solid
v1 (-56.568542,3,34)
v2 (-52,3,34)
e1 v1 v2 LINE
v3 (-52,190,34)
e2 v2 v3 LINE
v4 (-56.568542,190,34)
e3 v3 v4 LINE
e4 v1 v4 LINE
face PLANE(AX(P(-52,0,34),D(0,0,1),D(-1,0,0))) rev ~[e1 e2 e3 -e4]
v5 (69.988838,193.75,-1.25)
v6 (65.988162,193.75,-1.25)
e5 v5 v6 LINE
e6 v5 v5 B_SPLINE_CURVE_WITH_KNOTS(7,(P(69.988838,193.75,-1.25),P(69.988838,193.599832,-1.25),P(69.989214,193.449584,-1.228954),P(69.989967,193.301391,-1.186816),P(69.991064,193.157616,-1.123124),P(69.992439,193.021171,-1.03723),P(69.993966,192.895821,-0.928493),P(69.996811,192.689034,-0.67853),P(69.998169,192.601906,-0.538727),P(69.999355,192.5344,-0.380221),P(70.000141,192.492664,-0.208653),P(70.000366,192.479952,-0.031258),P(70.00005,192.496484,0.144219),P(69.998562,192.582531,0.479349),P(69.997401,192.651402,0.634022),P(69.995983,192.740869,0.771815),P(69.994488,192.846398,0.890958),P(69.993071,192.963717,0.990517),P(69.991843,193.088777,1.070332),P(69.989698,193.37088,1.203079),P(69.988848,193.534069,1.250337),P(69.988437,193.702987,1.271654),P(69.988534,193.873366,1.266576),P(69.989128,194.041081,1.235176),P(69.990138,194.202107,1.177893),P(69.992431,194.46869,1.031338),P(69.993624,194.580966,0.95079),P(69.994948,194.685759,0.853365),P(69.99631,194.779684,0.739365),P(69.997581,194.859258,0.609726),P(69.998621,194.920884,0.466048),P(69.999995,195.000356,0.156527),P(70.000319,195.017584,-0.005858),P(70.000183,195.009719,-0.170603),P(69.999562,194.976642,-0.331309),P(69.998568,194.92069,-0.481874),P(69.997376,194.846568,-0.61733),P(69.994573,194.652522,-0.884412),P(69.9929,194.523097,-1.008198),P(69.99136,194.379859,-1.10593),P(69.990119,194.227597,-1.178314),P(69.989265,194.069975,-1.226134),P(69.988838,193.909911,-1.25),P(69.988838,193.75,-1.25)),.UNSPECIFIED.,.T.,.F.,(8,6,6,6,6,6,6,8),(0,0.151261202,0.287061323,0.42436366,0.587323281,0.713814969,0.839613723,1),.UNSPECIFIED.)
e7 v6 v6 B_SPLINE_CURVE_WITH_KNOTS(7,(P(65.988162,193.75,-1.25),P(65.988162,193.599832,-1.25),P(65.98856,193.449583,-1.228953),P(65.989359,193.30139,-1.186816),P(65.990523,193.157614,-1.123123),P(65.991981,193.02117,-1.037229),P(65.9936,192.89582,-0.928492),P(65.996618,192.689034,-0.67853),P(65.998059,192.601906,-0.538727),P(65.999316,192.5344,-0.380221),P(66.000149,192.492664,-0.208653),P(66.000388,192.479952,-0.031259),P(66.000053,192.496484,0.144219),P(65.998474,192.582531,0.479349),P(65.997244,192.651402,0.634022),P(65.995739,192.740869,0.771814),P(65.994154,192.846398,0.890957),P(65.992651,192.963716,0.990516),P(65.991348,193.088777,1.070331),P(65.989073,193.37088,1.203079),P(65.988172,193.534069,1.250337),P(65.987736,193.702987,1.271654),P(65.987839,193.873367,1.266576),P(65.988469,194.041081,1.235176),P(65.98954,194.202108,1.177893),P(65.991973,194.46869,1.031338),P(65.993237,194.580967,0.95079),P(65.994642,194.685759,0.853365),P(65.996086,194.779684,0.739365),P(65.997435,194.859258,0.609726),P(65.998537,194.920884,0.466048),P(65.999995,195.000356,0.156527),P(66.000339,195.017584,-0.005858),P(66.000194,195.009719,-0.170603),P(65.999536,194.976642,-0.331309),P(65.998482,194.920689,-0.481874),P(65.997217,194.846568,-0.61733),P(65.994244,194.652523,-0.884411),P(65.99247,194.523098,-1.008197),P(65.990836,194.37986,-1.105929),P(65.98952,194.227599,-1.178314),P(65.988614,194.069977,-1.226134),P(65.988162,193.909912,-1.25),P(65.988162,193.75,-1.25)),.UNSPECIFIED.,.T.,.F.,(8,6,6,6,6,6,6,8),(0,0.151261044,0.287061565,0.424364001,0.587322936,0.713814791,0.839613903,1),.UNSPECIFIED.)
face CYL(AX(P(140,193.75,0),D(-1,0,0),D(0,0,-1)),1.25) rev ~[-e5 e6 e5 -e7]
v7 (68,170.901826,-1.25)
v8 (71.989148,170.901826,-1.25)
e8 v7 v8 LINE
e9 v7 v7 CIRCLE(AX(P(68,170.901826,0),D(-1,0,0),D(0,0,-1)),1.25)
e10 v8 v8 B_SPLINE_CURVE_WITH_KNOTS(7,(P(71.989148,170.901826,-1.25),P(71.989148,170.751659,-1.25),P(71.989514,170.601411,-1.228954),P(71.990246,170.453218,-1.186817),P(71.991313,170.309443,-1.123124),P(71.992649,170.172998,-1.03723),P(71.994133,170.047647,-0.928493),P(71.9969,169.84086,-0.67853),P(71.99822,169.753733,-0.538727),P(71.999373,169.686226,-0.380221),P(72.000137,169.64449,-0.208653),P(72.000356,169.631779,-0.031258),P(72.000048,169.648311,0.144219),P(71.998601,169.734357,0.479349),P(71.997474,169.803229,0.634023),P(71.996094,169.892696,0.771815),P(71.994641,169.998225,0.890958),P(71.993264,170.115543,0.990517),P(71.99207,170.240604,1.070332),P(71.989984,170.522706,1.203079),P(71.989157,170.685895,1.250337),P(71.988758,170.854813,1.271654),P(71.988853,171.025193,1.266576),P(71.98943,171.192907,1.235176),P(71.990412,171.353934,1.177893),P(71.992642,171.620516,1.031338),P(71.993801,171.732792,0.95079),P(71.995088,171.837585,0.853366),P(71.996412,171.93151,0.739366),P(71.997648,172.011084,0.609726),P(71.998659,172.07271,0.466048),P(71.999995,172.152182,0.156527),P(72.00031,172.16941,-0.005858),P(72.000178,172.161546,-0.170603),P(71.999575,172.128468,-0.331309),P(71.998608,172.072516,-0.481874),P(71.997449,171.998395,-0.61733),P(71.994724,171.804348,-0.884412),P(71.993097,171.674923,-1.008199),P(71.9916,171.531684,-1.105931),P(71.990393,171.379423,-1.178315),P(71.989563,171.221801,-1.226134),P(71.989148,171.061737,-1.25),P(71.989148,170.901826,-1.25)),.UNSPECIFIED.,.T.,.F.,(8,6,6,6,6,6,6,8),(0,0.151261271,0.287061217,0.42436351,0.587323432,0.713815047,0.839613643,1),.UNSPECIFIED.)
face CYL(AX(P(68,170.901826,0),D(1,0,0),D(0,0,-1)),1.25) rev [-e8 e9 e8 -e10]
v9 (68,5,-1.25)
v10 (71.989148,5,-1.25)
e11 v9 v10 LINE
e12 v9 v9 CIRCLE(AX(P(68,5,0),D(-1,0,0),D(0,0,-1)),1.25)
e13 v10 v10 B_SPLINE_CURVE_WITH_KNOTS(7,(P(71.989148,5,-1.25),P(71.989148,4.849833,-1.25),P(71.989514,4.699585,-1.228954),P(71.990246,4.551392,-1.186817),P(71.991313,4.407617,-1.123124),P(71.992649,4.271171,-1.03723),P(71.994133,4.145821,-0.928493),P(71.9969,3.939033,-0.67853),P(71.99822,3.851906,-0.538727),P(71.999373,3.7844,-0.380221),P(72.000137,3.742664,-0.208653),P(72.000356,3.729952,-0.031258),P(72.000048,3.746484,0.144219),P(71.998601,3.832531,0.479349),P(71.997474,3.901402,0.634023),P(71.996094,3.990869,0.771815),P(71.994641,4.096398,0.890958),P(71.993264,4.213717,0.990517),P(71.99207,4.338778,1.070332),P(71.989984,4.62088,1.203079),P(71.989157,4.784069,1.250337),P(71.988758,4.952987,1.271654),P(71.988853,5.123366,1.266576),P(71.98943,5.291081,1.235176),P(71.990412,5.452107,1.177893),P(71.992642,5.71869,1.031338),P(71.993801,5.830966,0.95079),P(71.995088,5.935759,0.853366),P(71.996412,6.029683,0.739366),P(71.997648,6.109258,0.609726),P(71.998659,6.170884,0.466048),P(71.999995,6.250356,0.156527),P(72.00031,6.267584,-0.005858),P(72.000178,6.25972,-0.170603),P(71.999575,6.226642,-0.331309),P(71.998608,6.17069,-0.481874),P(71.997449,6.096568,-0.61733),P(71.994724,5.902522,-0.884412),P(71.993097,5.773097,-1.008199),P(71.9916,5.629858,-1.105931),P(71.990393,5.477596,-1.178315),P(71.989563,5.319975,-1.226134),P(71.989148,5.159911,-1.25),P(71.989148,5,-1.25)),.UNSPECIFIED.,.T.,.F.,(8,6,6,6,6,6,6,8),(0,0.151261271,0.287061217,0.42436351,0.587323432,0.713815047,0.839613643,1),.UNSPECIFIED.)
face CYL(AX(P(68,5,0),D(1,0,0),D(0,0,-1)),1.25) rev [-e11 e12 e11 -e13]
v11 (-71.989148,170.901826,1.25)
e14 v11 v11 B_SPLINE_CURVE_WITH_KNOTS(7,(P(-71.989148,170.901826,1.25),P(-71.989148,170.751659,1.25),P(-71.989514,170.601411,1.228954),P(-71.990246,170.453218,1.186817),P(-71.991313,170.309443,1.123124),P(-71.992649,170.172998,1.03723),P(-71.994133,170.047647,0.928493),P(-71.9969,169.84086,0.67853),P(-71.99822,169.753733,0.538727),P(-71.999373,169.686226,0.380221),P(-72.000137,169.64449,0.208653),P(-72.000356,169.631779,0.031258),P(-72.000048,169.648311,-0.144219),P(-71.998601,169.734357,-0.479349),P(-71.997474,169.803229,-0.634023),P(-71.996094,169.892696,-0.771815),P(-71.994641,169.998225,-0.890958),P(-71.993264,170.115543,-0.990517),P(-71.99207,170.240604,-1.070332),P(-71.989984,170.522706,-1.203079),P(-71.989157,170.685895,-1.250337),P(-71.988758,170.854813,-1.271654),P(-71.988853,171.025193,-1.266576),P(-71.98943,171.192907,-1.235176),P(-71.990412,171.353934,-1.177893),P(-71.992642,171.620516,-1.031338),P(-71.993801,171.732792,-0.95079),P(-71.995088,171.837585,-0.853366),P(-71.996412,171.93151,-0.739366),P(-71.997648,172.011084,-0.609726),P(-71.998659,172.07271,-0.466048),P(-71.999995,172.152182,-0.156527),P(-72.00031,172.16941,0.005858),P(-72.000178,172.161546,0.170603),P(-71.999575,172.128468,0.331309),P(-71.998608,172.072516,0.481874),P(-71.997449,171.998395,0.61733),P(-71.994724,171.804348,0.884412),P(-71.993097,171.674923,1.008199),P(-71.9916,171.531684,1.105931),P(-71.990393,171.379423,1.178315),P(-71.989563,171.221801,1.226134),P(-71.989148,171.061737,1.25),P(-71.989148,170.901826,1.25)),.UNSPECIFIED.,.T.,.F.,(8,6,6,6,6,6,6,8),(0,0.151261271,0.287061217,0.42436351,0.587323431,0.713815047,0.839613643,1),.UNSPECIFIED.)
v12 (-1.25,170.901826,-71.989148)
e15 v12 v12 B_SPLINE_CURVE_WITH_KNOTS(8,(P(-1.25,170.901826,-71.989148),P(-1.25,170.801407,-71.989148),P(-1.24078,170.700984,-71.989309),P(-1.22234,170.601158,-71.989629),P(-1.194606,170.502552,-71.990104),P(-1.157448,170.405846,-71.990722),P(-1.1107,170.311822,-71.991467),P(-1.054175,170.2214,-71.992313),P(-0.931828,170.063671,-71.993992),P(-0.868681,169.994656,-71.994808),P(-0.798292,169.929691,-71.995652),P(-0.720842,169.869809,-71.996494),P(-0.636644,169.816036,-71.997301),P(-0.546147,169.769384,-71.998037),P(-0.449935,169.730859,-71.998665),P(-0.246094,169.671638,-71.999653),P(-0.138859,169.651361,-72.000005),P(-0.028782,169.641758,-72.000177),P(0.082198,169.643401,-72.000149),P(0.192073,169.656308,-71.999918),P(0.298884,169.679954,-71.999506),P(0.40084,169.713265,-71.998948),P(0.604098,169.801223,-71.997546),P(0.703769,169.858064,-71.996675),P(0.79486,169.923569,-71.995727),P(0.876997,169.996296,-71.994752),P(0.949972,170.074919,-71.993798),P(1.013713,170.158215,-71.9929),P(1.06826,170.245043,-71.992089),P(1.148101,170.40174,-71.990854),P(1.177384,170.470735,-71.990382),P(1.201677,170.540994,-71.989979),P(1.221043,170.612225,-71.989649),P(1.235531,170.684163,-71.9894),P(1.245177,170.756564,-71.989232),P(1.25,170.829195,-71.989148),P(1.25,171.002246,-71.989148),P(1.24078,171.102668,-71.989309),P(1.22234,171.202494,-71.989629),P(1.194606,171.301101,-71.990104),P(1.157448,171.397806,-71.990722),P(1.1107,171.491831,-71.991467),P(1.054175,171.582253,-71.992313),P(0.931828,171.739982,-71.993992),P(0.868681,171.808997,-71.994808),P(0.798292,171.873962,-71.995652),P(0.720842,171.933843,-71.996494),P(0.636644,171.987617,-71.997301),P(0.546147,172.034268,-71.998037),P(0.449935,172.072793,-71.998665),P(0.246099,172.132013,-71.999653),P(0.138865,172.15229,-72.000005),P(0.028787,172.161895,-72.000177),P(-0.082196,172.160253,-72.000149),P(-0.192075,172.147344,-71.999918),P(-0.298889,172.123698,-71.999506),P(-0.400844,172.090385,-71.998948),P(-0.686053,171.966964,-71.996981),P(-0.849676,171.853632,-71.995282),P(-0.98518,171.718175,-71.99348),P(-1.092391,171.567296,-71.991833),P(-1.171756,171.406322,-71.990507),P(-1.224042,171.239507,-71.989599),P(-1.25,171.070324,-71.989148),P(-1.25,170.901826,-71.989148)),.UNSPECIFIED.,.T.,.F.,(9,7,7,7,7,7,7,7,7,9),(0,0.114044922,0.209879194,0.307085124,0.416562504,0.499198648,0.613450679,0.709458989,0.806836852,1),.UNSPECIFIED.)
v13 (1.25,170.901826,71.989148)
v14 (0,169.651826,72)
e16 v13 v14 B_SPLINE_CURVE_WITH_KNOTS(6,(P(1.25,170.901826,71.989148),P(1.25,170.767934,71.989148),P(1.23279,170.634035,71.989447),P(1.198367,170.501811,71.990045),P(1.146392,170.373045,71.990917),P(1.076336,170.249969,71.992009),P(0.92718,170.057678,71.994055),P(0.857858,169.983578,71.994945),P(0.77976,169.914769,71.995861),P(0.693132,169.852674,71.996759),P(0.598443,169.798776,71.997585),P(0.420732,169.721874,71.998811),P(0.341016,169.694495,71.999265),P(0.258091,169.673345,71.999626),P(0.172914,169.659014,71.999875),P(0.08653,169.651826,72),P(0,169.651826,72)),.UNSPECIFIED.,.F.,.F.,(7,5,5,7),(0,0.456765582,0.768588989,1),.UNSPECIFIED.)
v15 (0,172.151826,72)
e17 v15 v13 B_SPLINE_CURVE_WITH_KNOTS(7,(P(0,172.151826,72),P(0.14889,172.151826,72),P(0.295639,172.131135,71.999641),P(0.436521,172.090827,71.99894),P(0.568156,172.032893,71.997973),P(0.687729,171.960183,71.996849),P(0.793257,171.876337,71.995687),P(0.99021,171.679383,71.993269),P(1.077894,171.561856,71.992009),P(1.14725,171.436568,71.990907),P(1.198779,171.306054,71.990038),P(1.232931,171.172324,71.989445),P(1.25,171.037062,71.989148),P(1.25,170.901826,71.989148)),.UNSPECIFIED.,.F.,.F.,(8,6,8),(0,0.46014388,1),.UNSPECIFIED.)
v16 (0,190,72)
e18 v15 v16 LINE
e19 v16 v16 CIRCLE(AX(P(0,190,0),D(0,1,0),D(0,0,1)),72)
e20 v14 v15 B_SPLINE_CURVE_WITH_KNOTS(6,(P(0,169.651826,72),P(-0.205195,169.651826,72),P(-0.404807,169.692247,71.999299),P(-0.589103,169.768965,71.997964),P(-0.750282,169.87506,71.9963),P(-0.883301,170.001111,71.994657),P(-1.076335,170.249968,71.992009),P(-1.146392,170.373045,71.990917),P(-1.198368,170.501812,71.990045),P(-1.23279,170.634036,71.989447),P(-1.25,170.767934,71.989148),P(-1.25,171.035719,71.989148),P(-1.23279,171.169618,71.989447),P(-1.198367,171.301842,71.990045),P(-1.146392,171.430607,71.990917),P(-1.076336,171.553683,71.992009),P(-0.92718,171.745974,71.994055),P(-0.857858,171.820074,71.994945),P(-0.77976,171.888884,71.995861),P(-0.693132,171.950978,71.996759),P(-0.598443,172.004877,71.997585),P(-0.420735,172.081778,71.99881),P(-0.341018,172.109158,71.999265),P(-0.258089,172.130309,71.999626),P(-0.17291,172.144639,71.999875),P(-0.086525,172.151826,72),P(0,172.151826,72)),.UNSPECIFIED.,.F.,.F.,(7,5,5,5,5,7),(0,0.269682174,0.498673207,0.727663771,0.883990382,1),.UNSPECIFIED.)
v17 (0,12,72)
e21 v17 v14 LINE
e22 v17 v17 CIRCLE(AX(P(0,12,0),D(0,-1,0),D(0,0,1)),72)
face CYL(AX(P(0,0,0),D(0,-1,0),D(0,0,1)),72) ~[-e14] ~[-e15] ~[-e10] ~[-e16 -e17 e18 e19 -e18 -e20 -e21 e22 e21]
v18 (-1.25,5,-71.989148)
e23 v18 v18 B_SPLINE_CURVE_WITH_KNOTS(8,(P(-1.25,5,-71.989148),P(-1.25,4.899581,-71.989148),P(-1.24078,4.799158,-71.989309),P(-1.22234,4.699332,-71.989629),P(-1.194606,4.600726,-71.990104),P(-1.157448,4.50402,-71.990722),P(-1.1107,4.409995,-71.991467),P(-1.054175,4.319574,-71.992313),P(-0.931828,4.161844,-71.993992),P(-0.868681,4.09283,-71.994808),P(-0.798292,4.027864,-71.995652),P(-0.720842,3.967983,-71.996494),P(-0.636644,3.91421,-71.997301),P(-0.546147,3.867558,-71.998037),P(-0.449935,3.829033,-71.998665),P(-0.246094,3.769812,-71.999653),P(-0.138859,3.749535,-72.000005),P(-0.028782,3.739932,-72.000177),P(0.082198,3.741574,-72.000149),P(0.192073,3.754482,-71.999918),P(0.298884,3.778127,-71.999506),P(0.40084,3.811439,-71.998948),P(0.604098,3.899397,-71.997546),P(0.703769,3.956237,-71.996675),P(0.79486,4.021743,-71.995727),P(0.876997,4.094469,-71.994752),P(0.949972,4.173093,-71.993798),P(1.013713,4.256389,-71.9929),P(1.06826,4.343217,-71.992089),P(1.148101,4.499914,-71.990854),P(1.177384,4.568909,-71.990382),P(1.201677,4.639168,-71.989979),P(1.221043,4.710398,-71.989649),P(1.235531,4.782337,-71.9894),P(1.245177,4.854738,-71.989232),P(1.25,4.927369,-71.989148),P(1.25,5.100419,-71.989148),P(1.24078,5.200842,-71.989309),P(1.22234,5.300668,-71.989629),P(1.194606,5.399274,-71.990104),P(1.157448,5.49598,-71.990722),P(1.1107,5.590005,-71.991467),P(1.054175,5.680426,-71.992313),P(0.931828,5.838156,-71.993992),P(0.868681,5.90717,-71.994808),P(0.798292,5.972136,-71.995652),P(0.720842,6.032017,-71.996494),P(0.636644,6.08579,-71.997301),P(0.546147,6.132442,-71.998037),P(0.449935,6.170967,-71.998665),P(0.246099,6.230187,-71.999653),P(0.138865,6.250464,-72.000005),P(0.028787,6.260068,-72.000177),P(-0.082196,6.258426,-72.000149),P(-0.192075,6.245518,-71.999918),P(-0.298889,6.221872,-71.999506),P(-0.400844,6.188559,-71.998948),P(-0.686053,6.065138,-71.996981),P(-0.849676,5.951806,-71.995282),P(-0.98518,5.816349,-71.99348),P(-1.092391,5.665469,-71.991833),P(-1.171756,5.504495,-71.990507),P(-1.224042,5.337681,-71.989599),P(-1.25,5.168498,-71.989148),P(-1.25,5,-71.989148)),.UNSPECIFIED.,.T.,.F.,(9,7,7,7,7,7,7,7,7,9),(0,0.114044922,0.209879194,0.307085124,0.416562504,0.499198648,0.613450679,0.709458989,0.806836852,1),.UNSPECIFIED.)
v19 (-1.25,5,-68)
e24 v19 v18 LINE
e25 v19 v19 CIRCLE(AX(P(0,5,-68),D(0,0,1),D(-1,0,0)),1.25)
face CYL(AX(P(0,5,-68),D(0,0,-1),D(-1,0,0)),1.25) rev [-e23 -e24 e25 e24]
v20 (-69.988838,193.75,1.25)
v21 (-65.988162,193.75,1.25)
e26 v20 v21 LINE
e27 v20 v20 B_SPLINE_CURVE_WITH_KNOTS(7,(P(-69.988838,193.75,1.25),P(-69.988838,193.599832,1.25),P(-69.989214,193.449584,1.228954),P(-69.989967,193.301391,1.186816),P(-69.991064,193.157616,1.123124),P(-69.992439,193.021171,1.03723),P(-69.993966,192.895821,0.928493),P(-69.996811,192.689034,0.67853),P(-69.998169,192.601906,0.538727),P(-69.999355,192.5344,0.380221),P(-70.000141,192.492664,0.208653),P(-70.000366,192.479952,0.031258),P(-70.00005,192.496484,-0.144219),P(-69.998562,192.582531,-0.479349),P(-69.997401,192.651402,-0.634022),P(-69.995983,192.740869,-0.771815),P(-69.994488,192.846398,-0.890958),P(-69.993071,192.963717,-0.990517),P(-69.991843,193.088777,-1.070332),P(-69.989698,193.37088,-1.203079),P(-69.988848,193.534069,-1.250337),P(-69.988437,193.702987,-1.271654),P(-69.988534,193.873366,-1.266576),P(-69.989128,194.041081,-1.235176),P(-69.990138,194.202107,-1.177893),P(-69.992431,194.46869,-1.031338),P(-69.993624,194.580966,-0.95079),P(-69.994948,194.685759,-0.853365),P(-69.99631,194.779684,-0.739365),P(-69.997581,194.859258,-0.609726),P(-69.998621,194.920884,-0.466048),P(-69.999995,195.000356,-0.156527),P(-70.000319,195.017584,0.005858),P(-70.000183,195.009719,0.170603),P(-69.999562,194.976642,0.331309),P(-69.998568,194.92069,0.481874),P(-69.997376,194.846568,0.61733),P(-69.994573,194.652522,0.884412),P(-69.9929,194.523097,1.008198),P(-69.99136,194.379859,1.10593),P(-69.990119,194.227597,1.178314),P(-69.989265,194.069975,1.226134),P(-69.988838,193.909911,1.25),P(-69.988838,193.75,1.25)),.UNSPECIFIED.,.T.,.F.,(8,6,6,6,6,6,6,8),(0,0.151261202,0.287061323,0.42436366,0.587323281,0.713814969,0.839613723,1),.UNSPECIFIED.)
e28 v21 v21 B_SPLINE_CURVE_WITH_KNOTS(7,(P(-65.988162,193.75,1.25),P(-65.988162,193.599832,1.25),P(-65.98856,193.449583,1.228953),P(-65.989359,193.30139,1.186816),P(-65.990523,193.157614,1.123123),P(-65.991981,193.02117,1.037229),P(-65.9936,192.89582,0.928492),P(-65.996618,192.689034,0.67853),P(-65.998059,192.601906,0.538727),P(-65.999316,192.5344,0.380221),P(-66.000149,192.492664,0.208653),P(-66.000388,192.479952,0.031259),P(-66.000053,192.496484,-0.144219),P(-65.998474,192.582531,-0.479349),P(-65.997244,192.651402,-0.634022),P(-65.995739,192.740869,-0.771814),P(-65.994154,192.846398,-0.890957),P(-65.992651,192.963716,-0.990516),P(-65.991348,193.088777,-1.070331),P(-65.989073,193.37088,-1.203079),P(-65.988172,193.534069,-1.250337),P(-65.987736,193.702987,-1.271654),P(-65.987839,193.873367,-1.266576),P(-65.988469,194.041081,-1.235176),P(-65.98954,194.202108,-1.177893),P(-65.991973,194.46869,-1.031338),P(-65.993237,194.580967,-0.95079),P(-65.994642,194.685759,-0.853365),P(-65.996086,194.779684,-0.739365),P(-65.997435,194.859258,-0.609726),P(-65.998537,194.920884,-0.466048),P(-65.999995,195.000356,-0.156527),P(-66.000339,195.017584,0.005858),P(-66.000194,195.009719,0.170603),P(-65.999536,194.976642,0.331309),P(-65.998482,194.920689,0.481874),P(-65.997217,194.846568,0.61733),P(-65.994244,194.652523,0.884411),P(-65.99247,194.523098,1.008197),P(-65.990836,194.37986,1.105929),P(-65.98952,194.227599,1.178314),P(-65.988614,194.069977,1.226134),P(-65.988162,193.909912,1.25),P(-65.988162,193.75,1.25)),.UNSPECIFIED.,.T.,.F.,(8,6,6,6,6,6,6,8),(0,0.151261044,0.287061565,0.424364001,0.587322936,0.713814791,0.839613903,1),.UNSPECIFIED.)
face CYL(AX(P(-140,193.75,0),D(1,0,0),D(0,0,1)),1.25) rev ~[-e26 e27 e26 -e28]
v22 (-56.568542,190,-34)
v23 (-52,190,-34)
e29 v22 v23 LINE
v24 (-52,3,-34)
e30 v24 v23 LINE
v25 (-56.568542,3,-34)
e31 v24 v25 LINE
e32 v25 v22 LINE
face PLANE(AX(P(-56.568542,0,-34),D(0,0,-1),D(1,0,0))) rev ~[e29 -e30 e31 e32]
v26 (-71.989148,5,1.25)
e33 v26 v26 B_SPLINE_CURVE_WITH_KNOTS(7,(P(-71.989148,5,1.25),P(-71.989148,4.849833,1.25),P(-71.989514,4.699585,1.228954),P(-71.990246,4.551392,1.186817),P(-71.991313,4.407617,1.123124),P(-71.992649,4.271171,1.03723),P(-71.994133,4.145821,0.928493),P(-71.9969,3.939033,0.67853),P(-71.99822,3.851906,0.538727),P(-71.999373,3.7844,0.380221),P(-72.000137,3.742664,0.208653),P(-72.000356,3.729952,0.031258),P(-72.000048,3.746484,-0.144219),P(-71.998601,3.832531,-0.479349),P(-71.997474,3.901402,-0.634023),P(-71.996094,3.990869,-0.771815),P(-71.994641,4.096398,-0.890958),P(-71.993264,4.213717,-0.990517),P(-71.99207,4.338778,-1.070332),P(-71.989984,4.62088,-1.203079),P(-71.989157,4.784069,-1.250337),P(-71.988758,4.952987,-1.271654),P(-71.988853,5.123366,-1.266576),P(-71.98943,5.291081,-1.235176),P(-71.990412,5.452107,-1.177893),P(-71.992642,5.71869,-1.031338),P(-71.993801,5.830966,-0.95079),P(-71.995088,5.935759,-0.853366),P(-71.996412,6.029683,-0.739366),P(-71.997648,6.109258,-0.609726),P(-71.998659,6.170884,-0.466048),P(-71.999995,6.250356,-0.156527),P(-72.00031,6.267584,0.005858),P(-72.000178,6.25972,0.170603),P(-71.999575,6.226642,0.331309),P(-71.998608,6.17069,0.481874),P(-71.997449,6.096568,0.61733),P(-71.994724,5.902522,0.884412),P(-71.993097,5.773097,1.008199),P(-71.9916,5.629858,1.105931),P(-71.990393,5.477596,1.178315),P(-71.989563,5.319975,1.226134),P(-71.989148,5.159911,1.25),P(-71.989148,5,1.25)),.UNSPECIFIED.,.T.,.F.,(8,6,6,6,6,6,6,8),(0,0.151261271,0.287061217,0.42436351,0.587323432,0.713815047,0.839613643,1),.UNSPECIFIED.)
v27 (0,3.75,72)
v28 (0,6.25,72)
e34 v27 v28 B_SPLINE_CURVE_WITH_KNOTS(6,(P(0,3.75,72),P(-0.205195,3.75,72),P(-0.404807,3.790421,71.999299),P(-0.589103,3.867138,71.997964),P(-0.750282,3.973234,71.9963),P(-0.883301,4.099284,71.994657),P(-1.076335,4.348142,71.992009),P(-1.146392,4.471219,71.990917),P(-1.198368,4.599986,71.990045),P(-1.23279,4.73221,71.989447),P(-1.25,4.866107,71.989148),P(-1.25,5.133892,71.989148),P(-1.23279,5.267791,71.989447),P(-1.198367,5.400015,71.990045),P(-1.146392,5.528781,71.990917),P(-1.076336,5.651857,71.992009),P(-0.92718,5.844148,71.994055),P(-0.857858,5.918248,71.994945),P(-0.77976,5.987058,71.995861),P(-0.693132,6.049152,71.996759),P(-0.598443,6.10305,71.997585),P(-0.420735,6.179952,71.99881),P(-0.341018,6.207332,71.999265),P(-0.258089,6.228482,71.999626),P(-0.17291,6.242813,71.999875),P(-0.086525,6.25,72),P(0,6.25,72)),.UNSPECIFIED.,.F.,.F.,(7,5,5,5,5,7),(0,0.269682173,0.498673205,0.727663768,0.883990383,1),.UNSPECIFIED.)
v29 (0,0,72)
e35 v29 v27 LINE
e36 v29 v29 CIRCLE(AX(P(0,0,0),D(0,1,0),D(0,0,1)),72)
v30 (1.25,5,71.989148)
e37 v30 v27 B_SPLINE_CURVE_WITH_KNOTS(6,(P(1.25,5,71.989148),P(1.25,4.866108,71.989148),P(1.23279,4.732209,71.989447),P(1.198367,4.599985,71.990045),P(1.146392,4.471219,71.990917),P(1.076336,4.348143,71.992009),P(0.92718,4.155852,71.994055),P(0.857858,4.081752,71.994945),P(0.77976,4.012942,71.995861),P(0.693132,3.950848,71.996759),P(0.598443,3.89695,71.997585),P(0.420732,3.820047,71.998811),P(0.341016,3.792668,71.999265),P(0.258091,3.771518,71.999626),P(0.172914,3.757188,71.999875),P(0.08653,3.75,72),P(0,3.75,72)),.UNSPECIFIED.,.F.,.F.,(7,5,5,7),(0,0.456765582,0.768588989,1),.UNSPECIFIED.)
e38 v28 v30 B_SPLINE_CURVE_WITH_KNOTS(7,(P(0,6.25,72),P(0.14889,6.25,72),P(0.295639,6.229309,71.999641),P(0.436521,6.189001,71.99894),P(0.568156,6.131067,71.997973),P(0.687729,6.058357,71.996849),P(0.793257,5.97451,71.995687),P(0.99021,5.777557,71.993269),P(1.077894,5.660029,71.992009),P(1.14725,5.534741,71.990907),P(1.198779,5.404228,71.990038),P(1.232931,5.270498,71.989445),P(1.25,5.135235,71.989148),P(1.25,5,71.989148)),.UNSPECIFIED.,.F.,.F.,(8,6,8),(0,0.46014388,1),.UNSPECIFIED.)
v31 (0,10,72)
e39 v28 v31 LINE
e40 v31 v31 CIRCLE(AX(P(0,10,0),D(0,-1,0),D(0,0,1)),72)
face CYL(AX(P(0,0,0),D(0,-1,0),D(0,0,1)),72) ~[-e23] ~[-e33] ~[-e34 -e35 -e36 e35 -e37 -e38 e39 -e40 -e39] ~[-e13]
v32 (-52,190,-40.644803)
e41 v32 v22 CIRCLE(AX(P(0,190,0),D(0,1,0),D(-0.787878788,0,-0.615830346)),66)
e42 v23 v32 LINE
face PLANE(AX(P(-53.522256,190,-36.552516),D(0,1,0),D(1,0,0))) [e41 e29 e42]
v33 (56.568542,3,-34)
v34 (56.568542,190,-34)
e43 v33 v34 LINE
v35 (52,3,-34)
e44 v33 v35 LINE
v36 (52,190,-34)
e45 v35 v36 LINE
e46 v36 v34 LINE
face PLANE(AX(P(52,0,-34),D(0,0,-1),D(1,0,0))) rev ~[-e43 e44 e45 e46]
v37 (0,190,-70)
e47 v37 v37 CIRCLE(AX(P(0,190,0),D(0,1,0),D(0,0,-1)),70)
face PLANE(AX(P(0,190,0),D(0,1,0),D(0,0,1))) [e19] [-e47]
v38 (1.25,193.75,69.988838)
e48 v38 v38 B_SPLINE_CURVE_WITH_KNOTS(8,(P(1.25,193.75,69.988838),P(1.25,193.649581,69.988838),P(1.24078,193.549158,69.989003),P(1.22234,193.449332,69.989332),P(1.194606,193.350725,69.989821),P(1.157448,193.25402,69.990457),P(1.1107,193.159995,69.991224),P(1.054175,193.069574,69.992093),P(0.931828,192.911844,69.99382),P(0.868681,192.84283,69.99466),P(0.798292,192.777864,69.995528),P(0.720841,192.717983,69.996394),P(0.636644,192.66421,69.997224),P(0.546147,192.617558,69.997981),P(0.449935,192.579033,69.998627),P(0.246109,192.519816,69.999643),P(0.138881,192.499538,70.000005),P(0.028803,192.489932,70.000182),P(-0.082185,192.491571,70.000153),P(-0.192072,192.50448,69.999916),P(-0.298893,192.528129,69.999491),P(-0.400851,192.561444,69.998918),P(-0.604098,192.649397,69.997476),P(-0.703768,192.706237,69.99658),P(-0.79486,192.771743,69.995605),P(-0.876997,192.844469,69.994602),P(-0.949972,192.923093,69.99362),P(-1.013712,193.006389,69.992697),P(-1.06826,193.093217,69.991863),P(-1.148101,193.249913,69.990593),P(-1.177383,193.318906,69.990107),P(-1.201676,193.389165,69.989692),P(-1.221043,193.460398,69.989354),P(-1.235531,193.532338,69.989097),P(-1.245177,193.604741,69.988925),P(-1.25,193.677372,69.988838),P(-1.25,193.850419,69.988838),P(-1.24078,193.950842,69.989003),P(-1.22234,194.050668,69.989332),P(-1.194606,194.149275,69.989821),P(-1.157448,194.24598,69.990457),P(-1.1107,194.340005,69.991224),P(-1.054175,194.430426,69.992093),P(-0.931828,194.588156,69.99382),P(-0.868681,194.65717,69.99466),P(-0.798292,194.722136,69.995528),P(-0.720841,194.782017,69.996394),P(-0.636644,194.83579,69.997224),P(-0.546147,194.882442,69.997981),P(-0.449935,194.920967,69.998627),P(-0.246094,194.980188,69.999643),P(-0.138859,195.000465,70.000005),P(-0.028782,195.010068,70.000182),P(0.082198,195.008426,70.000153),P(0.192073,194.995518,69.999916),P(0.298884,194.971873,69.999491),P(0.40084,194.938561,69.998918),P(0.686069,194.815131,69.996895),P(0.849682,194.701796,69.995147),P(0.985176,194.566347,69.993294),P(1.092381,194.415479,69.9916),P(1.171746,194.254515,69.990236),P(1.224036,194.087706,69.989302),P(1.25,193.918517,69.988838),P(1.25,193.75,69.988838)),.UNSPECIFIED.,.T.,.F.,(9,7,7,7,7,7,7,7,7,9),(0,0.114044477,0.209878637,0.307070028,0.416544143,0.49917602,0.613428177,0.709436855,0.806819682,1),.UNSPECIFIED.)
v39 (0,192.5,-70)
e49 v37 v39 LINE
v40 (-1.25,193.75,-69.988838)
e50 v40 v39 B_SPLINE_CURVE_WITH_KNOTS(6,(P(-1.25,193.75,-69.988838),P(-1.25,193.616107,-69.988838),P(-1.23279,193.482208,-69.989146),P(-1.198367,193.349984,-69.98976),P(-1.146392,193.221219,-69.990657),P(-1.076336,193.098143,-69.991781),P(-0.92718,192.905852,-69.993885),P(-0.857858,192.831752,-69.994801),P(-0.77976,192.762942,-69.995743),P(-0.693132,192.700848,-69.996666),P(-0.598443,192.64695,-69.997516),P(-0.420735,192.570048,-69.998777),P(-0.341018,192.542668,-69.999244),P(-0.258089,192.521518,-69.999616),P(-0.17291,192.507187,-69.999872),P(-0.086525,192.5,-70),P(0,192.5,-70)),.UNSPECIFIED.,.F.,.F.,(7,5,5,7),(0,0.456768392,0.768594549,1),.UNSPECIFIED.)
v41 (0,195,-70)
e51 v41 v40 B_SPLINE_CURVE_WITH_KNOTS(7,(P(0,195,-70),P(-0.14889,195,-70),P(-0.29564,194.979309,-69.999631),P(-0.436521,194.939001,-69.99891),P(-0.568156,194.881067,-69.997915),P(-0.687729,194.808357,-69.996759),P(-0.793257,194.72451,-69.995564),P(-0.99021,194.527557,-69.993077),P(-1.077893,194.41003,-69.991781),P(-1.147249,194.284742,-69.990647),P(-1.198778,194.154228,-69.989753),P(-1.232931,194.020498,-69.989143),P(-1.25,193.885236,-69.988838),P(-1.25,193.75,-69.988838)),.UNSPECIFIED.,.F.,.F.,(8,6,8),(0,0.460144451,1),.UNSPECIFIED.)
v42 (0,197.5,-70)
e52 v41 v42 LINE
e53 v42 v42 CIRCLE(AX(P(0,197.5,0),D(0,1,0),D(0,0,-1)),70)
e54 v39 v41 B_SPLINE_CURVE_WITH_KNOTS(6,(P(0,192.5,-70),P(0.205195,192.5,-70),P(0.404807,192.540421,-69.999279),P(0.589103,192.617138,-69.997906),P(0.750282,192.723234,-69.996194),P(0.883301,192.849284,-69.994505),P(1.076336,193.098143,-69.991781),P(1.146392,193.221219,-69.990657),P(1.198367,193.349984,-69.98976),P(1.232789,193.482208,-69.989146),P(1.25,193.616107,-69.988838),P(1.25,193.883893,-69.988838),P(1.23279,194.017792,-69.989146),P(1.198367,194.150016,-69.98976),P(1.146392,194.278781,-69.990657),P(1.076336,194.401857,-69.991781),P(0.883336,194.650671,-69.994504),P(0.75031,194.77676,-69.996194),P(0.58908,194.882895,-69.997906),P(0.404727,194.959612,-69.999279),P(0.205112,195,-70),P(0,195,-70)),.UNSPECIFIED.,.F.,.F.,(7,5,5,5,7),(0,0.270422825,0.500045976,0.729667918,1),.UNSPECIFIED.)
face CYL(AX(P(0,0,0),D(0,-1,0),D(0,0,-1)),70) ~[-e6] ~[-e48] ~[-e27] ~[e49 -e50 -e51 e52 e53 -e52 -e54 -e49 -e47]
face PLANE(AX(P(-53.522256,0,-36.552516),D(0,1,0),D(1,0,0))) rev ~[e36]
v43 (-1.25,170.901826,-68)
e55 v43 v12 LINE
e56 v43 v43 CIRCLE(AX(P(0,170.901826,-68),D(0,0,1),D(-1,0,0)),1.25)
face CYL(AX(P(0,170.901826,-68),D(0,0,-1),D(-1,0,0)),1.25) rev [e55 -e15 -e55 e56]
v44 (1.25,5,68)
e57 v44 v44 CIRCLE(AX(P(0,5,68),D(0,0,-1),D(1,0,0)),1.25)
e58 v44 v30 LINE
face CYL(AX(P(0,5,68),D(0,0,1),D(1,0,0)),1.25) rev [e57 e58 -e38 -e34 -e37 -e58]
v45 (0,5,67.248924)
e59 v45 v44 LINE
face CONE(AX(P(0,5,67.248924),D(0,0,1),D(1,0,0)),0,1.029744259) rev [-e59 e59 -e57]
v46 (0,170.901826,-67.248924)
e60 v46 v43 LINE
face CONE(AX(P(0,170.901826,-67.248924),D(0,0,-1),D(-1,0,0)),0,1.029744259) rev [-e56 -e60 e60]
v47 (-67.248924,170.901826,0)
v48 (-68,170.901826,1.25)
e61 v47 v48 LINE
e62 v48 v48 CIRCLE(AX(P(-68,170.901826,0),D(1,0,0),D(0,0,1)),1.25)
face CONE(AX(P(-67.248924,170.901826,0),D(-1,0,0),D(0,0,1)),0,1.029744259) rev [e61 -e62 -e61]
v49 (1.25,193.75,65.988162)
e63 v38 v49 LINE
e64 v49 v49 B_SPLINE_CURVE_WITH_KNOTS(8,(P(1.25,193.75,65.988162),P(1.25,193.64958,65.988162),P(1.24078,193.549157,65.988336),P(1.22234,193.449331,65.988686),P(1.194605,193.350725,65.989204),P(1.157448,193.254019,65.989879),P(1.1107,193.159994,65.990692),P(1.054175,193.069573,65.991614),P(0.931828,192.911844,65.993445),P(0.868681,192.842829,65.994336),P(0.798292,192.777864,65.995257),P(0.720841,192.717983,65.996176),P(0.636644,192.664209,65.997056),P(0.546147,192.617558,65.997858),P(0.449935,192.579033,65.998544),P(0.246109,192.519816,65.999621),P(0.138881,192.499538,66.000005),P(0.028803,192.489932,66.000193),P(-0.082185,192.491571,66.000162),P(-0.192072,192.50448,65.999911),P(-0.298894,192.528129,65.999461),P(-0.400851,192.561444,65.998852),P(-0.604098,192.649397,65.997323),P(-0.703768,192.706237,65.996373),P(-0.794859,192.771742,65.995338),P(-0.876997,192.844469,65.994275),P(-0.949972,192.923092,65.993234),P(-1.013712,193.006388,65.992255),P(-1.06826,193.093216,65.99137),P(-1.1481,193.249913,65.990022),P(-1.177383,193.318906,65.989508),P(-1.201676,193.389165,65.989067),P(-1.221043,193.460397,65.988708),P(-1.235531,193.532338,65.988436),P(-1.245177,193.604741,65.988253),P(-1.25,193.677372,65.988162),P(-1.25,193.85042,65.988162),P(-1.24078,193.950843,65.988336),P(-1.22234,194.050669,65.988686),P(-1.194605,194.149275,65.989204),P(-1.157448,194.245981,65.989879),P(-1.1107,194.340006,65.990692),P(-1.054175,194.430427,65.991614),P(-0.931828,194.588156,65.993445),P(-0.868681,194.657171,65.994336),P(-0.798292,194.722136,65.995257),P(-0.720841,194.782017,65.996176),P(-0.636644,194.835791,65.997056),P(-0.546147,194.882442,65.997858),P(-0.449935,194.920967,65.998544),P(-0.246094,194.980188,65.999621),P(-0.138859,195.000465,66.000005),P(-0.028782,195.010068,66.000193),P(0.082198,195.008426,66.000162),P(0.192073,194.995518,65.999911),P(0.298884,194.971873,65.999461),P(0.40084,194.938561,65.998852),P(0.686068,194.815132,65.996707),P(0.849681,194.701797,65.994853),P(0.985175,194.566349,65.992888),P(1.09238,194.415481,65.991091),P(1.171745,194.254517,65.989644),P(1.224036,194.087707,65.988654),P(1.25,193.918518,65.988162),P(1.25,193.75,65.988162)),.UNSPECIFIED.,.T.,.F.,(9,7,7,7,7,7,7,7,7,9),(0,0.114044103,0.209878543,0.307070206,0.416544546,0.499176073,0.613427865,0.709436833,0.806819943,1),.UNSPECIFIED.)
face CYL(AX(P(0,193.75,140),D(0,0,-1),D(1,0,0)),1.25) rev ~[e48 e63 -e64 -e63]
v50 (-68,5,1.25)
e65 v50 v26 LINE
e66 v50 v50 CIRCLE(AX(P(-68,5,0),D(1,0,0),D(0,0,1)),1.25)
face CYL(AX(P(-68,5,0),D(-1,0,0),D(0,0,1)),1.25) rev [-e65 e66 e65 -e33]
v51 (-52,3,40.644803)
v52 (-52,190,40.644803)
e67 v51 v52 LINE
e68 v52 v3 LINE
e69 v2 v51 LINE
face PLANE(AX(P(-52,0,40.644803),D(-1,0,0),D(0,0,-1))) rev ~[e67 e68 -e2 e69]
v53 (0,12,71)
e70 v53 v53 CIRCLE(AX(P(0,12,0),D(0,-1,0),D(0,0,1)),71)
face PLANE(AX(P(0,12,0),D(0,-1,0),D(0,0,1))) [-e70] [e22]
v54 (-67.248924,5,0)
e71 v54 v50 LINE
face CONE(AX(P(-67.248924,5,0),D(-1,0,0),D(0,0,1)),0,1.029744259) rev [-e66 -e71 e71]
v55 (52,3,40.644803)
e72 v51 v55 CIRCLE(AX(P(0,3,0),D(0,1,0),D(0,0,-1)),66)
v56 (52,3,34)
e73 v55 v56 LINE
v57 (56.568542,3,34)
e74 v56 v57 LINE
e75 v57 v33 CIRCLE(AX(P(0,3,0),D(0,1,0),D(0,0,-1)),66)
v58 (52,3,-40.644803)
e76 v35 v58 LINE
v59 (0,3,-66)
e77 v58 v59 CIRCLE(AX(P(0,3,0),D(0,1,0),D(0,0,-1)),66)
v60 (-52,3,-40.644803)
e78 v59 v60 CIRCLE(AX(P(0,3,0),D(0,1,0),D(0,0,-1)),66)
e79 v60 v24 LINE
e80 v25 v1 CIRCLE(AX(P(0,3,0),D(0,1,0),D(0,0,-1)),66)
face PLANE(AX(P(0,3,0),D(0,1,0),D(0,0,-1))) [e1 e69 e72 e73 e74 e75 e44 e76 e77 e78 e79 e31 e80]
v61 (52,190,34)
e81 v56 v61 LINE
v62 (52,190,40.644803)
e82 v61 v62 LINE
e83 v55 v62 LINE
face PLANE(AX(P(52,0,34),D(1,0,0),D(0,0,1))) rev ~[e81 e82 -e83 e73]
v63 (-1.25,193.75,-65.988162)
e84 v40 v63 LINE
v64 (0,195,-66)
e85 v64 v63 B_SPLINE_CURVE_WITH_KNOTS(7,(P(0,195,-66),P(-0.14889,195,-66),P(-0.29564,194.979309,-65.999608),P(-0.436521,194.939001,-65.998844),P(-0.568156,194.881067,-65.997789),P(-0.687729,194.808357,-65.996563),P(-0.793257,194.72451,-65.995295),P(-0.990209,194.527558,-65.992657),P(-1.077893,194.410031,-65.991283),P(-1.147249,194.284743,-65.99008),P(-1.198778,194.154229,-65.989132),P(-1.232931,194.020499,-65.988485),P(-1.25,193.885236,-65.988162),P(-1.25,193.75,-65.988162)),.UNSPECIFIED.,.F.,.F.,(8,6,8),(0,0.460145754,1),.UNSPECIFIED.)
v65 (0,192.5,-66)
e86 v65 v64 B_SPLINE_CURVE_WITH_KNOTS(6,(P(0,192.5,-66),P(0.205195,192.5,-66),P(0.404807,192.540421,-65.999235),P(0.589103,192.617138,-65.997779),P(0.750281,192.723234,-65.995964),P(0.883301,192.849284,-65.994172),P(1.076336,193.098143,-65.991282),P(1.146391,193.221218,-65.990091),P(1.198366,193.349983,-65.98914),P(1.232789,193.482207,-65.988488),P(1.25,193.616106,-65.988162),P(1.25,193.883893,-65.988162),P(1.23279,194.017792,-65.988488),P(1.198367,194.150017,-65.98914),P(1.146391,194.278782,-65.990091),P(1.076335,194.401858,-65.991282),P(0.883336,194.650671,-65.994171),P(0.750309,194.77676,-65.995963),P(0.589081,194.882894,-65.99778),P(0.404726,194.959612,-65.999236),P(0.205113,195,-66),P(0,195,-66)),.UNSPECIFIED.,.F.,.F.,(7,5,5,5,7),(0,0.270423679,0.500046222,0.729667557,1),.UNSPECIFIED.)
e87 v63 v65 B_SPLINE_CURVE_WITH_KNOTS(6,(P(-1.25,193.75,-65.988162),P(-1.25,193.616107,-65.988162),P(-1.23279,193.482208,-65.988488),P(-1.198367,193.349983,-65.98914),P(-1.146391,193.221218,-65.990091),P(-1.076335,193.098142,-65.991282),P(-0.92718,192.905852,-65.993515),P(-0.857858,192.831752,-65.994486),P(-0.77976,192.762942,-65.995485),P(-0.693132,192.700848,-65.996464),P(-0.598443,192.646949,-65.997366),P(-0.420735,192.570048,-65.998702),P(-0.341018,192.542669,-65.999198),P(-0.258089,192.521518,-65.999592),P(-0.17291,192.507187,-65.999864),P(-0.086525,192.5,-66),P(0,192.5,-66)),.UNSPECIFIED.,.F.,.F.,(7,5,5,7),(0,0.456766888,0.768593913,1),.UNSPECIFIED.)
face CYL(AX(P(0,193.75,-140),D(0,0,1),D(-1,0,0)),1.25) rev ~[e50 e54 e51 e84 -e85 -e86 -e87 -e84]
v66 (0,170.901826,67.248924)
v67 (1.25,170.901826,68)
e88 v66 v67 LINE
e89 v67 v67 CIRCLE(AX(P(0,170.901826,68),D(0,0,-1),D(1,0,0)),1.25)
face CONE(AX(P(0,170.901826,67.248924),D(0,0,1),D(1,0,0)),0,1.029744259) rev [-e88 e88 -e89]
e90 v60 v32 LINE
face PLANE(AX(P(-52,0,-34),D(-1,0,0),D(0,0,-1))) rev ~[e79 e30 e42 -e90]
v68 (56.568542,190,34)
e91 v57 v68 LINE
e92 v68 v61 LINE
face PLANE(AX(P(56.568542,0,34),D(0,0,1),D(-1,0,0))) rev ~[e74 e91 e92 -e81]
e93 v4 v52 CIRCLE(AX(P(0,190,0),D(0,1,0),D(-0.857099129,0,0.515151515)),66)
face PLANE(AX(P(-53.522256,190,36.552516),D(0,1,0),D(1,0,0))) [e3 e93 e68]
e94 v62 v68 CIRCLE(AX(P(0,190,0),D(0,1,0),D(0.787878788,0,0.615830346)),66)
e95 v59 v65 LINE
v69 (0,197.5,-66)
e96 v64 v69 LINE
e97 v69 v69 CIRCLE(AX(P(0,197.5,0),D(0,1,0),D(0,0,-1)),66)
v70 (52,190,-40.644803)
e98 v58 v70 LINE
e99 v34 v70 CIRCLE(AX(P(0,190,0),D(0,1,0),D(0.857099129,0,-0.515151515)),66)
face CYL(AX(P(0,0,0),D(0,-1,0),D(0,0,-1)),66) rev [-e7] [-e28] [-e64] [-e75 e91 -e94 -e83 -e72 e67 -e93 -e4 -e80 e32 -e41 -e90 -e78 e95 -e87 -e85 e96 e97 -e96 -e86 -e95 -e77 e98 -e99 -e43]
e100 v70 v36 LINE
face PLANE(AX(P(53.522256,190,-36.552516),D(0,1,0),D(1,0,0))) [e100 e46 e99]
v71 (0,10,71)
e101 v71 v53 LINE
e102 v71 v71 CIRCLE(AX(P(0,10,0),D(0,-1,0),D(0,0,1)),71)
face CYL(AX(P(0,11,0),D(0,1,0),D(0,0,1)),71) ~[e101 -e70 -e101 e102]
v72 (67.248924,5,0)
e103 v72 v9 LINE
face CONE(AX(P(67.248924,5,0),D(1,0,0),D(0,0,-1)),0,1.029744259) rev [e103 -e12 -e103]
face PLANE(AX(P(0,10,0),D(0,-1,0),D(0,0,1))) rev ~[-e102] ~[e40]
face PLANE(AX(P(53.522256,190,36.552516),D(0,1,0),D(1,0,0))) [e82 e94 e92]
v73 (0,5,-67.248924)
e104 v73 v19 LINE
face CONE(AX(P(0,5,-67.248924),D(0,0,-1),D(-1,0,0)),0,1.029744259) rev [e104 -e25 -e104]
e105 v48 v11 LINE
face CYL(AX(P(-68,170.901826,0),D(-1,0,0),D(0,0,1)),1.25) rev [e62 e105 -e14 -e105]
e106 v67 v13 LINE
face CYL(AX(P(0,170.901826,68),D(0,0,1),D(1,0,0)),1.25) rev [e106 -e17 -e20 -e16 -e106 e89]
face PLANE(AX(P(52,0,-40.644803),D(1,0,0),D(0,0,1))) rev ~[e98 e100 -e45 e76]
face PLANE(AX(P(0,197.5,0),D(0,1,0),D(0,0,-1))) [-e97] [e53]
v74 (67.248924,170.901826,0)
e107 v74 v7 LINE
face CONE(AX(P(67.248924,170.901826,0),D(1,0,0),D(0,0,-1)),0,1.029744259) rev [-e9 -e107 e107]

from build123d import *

# Parameters (mm, degrees)
SKETCH_6_R               = 72
SKETCH_6_R_2             = 70
EXTRUDE_1_DEPTH          = 190
SKETCH_6_15_R            = 70
SKETCH_6_15_R_2          = 66
EXTRUDE_2_DEPTH          = 197.5
SKETCH_6_16_R            = 66
EXTRUDE_3_DEPTH          = 3
EXTRUDE_6_DEPTH          = 190
F_2_5MM_3_D              = 2.5
F_2_5MM_3_DEPTH          = 70
PATTERN_CIRCULAR_1_COUNT = 4
SKETCH_33_W              = 1
SKETCH_33_H              = 2
PATTERN_CIRCULAR_2_COUNT = 4
PATTERN_CIRCULAR_3_COUNT = 4


with BuildPart() as part:
    # 草圖6 → 填料-伸長1 (new body)
    with BuildSketch(Plane(origin=(0, 0, 0), x_dir=(1, 0, 0), z_dir=(0, 1, 0))):
        with Locations(Location((0, 0, 0), (0, 0, 270))):
            Circle(SKETCH_6_R)
        with Locations(Location((0, 0, 0), (0, 0, 270))):
            Circle(SKETCH_6_R_2, mode=Mode.SUBTRACT)
    extrude(amount=EXTRUDE_1_DEPTH)

    # 草圖6<15> → 填料-伸長2 (add)
    with BuildSketch(Plane(origin=(0, 0, 0), x_dir=(1, 0, 0), z_dir=(0, 1, 0))):
        with Locations(Location((0, 0, 0), (0, 0, 90))):
            Circle(SKETCH_6_15_R)
        with Locations(Location((0, 0, 0), (0, 0, 90))):
            Circle(SKETCH_6_15_R_2, mode=Mode.SUBTRACT)
    extrude(amount=EXTRUDE_2_DEPTH)

    # 草圖6<16> → 填料-伸長3 (add)
    with BuildSketch(Plane(origin=(0, 0, 0), x_dir=(1, 0, 0), z_dir=(0, 1, 0))):
        with Locations(Location((0, 0, 0), (0, 0, 90))):
            Circle(SKETCH_6_16_R)
    extrude(amount=EXTRUDE_3_DEPTH)

    # 草圖9 → 填料-伸長6 (add)
    with BuildSketch(Plane(origin=(0, 0, 0), x_dir=(1, 0, 0), z_dir=(0, 1, 0))):
        with BuildLine():
            Line((-52, 34), (-52, 40.644802866))
            ThreePointArc((-52, 40.644802866), (-54.38584794, 37.392239086), (-56.568542495, 34))
            Line((-56.568542495, 34), (-52, 34))
        make_face()
        with BuildLine():
            Line((-52, -34), (-56.568542495, -34))
            ThreePointArc((-56.568542495, -34), (-54.38584794, -37.392239086), (-52, -40.644802866))
            Line((-52, -40.644802866), (-52, -34))
        make_face()
        with BuildLine():
            Line((56.568542495, -34), (52, -34))
            Line((52, -34), (52, -40.644802866))
            ThreePointArc((52, -40.644802866), (54.38584794, -37.392239086), (56.568542495, -34))
        make_face()
        with BuildLine():
            ThreePointArc((56.568542495, 34), (54.38584794, 37.392239086), (52, 40.644802866))
            Line((52, 40.644802866), (52, 34))
            Line((52, 34), (56.568542495, 34))
        make_face()
    extrude(amount=EXTRUDE_6_DEPTH)

    # Ø2.5mm 定位孔3
    with Locations(Plane(origin=(70, 193.75, 0), x_dir=(0, 0, 1), z_dir=(1, 0, 0))):
        with Locations((0, 0)):
            f_2_5mm_3 = Hole(F_2_5MM_3_D / 2, depth=F_2_5MM_3_DEPTH)

    # 環狀複製排列1: Ø2.5mm 定位孔3 ×4 about axis
    pattern_circular_1_axis = Axis((0, 197.5, 0), (0, 1, 0))
    for i in range(1, PATTERN_CIRCULAR_1_COUNT):
        add(f_2_5mm_3.rotate(pattern_circular_1_axis, i * 360 / PATTERN_CIRCULAR_1_COUNT), mode=Mode.SUBTRACT)

    # 草圖33 → 除料-旋轉1 (revolve, cut)
    with BuildSketch(Plane.XY, mode=Mode.PRIVATE) as cut_revolve_1_sk:
        with Locations((-71.5, 11)):
            Rectangle(SKETCH_33_W, SKETCH_33_H)
    revolve(cut_revolve_1_sk.sketch.rotate(Axis((0, 197.5, 0), (0, -1, 0)), 270), axis=Axis((0, 197.5, 0), (0, -1, 0)), mode=Mode.SUBTRACT)

    # 草圖37 → Ø2.5mm 定位孔4 (revolve, cut)
    with BuildSketch(Plane(origin=(-72, 5, 0), x_dir=(0, 0, 1), z_dir=(0, 1, 0))):
        Polygon((0, 0), (0, 4.751075774), (1.25, 4), (1.25, 0), align=None)
    f_2_5mm_4 = revolve(axis=Axis((-78.35, 5, 0), (1, 0, 0)), mode=Mode.SUBTRACT)

    # 環狀複製排列2: Ø2.5mm 定位孔4 ×4 about axis
    pattern_circular_2_axis = Axis((0, 197.5, 0), (0, -1, 0))
    for i in range(1, PATTERN_CIRCULAR_2_COUNT):
        add(f_2_5mm_4.rotate(pattern_circular_2_axis, i * 360 / PATTERN_CIRCULAR_2_COUNT), mode=Mode.SUBTRACT)

    # 草圖38 → Ø2.5mm 定位孔5 (revolve, cut)
    with BuildSketch(Plane(origin=(-72, 170.901826282, 0), x_dir=(0, 0, 1), z_dir=(0, 1, 0))):
        Polygon((0, 0), (0, 4.751075774), (1.25, 4), (1.25, 0), align=None)
    f_2_5mm_5 = revolve(axis=Axis((-78.35, 170.901826282, 0), (1, 0, 0)), mode=Mode.SUBTRACT)

    # 環狀複製排列3: Ø2.5mm 定位孔5 ×4 about axis
    pattern_circular_3_axis = Axis((0, 197.5, 0), (0, -1, 0))
    for i in range(1, PATTERN_CIRCULAR_3_COUNT):
        add(f_2_5mm_5.rotate(pattern_circular_3_axis, i * 360 / PATTERN_CIRCULAR_3_COUNT), mode=Mode.SUBTRACT)


solid = part.part
